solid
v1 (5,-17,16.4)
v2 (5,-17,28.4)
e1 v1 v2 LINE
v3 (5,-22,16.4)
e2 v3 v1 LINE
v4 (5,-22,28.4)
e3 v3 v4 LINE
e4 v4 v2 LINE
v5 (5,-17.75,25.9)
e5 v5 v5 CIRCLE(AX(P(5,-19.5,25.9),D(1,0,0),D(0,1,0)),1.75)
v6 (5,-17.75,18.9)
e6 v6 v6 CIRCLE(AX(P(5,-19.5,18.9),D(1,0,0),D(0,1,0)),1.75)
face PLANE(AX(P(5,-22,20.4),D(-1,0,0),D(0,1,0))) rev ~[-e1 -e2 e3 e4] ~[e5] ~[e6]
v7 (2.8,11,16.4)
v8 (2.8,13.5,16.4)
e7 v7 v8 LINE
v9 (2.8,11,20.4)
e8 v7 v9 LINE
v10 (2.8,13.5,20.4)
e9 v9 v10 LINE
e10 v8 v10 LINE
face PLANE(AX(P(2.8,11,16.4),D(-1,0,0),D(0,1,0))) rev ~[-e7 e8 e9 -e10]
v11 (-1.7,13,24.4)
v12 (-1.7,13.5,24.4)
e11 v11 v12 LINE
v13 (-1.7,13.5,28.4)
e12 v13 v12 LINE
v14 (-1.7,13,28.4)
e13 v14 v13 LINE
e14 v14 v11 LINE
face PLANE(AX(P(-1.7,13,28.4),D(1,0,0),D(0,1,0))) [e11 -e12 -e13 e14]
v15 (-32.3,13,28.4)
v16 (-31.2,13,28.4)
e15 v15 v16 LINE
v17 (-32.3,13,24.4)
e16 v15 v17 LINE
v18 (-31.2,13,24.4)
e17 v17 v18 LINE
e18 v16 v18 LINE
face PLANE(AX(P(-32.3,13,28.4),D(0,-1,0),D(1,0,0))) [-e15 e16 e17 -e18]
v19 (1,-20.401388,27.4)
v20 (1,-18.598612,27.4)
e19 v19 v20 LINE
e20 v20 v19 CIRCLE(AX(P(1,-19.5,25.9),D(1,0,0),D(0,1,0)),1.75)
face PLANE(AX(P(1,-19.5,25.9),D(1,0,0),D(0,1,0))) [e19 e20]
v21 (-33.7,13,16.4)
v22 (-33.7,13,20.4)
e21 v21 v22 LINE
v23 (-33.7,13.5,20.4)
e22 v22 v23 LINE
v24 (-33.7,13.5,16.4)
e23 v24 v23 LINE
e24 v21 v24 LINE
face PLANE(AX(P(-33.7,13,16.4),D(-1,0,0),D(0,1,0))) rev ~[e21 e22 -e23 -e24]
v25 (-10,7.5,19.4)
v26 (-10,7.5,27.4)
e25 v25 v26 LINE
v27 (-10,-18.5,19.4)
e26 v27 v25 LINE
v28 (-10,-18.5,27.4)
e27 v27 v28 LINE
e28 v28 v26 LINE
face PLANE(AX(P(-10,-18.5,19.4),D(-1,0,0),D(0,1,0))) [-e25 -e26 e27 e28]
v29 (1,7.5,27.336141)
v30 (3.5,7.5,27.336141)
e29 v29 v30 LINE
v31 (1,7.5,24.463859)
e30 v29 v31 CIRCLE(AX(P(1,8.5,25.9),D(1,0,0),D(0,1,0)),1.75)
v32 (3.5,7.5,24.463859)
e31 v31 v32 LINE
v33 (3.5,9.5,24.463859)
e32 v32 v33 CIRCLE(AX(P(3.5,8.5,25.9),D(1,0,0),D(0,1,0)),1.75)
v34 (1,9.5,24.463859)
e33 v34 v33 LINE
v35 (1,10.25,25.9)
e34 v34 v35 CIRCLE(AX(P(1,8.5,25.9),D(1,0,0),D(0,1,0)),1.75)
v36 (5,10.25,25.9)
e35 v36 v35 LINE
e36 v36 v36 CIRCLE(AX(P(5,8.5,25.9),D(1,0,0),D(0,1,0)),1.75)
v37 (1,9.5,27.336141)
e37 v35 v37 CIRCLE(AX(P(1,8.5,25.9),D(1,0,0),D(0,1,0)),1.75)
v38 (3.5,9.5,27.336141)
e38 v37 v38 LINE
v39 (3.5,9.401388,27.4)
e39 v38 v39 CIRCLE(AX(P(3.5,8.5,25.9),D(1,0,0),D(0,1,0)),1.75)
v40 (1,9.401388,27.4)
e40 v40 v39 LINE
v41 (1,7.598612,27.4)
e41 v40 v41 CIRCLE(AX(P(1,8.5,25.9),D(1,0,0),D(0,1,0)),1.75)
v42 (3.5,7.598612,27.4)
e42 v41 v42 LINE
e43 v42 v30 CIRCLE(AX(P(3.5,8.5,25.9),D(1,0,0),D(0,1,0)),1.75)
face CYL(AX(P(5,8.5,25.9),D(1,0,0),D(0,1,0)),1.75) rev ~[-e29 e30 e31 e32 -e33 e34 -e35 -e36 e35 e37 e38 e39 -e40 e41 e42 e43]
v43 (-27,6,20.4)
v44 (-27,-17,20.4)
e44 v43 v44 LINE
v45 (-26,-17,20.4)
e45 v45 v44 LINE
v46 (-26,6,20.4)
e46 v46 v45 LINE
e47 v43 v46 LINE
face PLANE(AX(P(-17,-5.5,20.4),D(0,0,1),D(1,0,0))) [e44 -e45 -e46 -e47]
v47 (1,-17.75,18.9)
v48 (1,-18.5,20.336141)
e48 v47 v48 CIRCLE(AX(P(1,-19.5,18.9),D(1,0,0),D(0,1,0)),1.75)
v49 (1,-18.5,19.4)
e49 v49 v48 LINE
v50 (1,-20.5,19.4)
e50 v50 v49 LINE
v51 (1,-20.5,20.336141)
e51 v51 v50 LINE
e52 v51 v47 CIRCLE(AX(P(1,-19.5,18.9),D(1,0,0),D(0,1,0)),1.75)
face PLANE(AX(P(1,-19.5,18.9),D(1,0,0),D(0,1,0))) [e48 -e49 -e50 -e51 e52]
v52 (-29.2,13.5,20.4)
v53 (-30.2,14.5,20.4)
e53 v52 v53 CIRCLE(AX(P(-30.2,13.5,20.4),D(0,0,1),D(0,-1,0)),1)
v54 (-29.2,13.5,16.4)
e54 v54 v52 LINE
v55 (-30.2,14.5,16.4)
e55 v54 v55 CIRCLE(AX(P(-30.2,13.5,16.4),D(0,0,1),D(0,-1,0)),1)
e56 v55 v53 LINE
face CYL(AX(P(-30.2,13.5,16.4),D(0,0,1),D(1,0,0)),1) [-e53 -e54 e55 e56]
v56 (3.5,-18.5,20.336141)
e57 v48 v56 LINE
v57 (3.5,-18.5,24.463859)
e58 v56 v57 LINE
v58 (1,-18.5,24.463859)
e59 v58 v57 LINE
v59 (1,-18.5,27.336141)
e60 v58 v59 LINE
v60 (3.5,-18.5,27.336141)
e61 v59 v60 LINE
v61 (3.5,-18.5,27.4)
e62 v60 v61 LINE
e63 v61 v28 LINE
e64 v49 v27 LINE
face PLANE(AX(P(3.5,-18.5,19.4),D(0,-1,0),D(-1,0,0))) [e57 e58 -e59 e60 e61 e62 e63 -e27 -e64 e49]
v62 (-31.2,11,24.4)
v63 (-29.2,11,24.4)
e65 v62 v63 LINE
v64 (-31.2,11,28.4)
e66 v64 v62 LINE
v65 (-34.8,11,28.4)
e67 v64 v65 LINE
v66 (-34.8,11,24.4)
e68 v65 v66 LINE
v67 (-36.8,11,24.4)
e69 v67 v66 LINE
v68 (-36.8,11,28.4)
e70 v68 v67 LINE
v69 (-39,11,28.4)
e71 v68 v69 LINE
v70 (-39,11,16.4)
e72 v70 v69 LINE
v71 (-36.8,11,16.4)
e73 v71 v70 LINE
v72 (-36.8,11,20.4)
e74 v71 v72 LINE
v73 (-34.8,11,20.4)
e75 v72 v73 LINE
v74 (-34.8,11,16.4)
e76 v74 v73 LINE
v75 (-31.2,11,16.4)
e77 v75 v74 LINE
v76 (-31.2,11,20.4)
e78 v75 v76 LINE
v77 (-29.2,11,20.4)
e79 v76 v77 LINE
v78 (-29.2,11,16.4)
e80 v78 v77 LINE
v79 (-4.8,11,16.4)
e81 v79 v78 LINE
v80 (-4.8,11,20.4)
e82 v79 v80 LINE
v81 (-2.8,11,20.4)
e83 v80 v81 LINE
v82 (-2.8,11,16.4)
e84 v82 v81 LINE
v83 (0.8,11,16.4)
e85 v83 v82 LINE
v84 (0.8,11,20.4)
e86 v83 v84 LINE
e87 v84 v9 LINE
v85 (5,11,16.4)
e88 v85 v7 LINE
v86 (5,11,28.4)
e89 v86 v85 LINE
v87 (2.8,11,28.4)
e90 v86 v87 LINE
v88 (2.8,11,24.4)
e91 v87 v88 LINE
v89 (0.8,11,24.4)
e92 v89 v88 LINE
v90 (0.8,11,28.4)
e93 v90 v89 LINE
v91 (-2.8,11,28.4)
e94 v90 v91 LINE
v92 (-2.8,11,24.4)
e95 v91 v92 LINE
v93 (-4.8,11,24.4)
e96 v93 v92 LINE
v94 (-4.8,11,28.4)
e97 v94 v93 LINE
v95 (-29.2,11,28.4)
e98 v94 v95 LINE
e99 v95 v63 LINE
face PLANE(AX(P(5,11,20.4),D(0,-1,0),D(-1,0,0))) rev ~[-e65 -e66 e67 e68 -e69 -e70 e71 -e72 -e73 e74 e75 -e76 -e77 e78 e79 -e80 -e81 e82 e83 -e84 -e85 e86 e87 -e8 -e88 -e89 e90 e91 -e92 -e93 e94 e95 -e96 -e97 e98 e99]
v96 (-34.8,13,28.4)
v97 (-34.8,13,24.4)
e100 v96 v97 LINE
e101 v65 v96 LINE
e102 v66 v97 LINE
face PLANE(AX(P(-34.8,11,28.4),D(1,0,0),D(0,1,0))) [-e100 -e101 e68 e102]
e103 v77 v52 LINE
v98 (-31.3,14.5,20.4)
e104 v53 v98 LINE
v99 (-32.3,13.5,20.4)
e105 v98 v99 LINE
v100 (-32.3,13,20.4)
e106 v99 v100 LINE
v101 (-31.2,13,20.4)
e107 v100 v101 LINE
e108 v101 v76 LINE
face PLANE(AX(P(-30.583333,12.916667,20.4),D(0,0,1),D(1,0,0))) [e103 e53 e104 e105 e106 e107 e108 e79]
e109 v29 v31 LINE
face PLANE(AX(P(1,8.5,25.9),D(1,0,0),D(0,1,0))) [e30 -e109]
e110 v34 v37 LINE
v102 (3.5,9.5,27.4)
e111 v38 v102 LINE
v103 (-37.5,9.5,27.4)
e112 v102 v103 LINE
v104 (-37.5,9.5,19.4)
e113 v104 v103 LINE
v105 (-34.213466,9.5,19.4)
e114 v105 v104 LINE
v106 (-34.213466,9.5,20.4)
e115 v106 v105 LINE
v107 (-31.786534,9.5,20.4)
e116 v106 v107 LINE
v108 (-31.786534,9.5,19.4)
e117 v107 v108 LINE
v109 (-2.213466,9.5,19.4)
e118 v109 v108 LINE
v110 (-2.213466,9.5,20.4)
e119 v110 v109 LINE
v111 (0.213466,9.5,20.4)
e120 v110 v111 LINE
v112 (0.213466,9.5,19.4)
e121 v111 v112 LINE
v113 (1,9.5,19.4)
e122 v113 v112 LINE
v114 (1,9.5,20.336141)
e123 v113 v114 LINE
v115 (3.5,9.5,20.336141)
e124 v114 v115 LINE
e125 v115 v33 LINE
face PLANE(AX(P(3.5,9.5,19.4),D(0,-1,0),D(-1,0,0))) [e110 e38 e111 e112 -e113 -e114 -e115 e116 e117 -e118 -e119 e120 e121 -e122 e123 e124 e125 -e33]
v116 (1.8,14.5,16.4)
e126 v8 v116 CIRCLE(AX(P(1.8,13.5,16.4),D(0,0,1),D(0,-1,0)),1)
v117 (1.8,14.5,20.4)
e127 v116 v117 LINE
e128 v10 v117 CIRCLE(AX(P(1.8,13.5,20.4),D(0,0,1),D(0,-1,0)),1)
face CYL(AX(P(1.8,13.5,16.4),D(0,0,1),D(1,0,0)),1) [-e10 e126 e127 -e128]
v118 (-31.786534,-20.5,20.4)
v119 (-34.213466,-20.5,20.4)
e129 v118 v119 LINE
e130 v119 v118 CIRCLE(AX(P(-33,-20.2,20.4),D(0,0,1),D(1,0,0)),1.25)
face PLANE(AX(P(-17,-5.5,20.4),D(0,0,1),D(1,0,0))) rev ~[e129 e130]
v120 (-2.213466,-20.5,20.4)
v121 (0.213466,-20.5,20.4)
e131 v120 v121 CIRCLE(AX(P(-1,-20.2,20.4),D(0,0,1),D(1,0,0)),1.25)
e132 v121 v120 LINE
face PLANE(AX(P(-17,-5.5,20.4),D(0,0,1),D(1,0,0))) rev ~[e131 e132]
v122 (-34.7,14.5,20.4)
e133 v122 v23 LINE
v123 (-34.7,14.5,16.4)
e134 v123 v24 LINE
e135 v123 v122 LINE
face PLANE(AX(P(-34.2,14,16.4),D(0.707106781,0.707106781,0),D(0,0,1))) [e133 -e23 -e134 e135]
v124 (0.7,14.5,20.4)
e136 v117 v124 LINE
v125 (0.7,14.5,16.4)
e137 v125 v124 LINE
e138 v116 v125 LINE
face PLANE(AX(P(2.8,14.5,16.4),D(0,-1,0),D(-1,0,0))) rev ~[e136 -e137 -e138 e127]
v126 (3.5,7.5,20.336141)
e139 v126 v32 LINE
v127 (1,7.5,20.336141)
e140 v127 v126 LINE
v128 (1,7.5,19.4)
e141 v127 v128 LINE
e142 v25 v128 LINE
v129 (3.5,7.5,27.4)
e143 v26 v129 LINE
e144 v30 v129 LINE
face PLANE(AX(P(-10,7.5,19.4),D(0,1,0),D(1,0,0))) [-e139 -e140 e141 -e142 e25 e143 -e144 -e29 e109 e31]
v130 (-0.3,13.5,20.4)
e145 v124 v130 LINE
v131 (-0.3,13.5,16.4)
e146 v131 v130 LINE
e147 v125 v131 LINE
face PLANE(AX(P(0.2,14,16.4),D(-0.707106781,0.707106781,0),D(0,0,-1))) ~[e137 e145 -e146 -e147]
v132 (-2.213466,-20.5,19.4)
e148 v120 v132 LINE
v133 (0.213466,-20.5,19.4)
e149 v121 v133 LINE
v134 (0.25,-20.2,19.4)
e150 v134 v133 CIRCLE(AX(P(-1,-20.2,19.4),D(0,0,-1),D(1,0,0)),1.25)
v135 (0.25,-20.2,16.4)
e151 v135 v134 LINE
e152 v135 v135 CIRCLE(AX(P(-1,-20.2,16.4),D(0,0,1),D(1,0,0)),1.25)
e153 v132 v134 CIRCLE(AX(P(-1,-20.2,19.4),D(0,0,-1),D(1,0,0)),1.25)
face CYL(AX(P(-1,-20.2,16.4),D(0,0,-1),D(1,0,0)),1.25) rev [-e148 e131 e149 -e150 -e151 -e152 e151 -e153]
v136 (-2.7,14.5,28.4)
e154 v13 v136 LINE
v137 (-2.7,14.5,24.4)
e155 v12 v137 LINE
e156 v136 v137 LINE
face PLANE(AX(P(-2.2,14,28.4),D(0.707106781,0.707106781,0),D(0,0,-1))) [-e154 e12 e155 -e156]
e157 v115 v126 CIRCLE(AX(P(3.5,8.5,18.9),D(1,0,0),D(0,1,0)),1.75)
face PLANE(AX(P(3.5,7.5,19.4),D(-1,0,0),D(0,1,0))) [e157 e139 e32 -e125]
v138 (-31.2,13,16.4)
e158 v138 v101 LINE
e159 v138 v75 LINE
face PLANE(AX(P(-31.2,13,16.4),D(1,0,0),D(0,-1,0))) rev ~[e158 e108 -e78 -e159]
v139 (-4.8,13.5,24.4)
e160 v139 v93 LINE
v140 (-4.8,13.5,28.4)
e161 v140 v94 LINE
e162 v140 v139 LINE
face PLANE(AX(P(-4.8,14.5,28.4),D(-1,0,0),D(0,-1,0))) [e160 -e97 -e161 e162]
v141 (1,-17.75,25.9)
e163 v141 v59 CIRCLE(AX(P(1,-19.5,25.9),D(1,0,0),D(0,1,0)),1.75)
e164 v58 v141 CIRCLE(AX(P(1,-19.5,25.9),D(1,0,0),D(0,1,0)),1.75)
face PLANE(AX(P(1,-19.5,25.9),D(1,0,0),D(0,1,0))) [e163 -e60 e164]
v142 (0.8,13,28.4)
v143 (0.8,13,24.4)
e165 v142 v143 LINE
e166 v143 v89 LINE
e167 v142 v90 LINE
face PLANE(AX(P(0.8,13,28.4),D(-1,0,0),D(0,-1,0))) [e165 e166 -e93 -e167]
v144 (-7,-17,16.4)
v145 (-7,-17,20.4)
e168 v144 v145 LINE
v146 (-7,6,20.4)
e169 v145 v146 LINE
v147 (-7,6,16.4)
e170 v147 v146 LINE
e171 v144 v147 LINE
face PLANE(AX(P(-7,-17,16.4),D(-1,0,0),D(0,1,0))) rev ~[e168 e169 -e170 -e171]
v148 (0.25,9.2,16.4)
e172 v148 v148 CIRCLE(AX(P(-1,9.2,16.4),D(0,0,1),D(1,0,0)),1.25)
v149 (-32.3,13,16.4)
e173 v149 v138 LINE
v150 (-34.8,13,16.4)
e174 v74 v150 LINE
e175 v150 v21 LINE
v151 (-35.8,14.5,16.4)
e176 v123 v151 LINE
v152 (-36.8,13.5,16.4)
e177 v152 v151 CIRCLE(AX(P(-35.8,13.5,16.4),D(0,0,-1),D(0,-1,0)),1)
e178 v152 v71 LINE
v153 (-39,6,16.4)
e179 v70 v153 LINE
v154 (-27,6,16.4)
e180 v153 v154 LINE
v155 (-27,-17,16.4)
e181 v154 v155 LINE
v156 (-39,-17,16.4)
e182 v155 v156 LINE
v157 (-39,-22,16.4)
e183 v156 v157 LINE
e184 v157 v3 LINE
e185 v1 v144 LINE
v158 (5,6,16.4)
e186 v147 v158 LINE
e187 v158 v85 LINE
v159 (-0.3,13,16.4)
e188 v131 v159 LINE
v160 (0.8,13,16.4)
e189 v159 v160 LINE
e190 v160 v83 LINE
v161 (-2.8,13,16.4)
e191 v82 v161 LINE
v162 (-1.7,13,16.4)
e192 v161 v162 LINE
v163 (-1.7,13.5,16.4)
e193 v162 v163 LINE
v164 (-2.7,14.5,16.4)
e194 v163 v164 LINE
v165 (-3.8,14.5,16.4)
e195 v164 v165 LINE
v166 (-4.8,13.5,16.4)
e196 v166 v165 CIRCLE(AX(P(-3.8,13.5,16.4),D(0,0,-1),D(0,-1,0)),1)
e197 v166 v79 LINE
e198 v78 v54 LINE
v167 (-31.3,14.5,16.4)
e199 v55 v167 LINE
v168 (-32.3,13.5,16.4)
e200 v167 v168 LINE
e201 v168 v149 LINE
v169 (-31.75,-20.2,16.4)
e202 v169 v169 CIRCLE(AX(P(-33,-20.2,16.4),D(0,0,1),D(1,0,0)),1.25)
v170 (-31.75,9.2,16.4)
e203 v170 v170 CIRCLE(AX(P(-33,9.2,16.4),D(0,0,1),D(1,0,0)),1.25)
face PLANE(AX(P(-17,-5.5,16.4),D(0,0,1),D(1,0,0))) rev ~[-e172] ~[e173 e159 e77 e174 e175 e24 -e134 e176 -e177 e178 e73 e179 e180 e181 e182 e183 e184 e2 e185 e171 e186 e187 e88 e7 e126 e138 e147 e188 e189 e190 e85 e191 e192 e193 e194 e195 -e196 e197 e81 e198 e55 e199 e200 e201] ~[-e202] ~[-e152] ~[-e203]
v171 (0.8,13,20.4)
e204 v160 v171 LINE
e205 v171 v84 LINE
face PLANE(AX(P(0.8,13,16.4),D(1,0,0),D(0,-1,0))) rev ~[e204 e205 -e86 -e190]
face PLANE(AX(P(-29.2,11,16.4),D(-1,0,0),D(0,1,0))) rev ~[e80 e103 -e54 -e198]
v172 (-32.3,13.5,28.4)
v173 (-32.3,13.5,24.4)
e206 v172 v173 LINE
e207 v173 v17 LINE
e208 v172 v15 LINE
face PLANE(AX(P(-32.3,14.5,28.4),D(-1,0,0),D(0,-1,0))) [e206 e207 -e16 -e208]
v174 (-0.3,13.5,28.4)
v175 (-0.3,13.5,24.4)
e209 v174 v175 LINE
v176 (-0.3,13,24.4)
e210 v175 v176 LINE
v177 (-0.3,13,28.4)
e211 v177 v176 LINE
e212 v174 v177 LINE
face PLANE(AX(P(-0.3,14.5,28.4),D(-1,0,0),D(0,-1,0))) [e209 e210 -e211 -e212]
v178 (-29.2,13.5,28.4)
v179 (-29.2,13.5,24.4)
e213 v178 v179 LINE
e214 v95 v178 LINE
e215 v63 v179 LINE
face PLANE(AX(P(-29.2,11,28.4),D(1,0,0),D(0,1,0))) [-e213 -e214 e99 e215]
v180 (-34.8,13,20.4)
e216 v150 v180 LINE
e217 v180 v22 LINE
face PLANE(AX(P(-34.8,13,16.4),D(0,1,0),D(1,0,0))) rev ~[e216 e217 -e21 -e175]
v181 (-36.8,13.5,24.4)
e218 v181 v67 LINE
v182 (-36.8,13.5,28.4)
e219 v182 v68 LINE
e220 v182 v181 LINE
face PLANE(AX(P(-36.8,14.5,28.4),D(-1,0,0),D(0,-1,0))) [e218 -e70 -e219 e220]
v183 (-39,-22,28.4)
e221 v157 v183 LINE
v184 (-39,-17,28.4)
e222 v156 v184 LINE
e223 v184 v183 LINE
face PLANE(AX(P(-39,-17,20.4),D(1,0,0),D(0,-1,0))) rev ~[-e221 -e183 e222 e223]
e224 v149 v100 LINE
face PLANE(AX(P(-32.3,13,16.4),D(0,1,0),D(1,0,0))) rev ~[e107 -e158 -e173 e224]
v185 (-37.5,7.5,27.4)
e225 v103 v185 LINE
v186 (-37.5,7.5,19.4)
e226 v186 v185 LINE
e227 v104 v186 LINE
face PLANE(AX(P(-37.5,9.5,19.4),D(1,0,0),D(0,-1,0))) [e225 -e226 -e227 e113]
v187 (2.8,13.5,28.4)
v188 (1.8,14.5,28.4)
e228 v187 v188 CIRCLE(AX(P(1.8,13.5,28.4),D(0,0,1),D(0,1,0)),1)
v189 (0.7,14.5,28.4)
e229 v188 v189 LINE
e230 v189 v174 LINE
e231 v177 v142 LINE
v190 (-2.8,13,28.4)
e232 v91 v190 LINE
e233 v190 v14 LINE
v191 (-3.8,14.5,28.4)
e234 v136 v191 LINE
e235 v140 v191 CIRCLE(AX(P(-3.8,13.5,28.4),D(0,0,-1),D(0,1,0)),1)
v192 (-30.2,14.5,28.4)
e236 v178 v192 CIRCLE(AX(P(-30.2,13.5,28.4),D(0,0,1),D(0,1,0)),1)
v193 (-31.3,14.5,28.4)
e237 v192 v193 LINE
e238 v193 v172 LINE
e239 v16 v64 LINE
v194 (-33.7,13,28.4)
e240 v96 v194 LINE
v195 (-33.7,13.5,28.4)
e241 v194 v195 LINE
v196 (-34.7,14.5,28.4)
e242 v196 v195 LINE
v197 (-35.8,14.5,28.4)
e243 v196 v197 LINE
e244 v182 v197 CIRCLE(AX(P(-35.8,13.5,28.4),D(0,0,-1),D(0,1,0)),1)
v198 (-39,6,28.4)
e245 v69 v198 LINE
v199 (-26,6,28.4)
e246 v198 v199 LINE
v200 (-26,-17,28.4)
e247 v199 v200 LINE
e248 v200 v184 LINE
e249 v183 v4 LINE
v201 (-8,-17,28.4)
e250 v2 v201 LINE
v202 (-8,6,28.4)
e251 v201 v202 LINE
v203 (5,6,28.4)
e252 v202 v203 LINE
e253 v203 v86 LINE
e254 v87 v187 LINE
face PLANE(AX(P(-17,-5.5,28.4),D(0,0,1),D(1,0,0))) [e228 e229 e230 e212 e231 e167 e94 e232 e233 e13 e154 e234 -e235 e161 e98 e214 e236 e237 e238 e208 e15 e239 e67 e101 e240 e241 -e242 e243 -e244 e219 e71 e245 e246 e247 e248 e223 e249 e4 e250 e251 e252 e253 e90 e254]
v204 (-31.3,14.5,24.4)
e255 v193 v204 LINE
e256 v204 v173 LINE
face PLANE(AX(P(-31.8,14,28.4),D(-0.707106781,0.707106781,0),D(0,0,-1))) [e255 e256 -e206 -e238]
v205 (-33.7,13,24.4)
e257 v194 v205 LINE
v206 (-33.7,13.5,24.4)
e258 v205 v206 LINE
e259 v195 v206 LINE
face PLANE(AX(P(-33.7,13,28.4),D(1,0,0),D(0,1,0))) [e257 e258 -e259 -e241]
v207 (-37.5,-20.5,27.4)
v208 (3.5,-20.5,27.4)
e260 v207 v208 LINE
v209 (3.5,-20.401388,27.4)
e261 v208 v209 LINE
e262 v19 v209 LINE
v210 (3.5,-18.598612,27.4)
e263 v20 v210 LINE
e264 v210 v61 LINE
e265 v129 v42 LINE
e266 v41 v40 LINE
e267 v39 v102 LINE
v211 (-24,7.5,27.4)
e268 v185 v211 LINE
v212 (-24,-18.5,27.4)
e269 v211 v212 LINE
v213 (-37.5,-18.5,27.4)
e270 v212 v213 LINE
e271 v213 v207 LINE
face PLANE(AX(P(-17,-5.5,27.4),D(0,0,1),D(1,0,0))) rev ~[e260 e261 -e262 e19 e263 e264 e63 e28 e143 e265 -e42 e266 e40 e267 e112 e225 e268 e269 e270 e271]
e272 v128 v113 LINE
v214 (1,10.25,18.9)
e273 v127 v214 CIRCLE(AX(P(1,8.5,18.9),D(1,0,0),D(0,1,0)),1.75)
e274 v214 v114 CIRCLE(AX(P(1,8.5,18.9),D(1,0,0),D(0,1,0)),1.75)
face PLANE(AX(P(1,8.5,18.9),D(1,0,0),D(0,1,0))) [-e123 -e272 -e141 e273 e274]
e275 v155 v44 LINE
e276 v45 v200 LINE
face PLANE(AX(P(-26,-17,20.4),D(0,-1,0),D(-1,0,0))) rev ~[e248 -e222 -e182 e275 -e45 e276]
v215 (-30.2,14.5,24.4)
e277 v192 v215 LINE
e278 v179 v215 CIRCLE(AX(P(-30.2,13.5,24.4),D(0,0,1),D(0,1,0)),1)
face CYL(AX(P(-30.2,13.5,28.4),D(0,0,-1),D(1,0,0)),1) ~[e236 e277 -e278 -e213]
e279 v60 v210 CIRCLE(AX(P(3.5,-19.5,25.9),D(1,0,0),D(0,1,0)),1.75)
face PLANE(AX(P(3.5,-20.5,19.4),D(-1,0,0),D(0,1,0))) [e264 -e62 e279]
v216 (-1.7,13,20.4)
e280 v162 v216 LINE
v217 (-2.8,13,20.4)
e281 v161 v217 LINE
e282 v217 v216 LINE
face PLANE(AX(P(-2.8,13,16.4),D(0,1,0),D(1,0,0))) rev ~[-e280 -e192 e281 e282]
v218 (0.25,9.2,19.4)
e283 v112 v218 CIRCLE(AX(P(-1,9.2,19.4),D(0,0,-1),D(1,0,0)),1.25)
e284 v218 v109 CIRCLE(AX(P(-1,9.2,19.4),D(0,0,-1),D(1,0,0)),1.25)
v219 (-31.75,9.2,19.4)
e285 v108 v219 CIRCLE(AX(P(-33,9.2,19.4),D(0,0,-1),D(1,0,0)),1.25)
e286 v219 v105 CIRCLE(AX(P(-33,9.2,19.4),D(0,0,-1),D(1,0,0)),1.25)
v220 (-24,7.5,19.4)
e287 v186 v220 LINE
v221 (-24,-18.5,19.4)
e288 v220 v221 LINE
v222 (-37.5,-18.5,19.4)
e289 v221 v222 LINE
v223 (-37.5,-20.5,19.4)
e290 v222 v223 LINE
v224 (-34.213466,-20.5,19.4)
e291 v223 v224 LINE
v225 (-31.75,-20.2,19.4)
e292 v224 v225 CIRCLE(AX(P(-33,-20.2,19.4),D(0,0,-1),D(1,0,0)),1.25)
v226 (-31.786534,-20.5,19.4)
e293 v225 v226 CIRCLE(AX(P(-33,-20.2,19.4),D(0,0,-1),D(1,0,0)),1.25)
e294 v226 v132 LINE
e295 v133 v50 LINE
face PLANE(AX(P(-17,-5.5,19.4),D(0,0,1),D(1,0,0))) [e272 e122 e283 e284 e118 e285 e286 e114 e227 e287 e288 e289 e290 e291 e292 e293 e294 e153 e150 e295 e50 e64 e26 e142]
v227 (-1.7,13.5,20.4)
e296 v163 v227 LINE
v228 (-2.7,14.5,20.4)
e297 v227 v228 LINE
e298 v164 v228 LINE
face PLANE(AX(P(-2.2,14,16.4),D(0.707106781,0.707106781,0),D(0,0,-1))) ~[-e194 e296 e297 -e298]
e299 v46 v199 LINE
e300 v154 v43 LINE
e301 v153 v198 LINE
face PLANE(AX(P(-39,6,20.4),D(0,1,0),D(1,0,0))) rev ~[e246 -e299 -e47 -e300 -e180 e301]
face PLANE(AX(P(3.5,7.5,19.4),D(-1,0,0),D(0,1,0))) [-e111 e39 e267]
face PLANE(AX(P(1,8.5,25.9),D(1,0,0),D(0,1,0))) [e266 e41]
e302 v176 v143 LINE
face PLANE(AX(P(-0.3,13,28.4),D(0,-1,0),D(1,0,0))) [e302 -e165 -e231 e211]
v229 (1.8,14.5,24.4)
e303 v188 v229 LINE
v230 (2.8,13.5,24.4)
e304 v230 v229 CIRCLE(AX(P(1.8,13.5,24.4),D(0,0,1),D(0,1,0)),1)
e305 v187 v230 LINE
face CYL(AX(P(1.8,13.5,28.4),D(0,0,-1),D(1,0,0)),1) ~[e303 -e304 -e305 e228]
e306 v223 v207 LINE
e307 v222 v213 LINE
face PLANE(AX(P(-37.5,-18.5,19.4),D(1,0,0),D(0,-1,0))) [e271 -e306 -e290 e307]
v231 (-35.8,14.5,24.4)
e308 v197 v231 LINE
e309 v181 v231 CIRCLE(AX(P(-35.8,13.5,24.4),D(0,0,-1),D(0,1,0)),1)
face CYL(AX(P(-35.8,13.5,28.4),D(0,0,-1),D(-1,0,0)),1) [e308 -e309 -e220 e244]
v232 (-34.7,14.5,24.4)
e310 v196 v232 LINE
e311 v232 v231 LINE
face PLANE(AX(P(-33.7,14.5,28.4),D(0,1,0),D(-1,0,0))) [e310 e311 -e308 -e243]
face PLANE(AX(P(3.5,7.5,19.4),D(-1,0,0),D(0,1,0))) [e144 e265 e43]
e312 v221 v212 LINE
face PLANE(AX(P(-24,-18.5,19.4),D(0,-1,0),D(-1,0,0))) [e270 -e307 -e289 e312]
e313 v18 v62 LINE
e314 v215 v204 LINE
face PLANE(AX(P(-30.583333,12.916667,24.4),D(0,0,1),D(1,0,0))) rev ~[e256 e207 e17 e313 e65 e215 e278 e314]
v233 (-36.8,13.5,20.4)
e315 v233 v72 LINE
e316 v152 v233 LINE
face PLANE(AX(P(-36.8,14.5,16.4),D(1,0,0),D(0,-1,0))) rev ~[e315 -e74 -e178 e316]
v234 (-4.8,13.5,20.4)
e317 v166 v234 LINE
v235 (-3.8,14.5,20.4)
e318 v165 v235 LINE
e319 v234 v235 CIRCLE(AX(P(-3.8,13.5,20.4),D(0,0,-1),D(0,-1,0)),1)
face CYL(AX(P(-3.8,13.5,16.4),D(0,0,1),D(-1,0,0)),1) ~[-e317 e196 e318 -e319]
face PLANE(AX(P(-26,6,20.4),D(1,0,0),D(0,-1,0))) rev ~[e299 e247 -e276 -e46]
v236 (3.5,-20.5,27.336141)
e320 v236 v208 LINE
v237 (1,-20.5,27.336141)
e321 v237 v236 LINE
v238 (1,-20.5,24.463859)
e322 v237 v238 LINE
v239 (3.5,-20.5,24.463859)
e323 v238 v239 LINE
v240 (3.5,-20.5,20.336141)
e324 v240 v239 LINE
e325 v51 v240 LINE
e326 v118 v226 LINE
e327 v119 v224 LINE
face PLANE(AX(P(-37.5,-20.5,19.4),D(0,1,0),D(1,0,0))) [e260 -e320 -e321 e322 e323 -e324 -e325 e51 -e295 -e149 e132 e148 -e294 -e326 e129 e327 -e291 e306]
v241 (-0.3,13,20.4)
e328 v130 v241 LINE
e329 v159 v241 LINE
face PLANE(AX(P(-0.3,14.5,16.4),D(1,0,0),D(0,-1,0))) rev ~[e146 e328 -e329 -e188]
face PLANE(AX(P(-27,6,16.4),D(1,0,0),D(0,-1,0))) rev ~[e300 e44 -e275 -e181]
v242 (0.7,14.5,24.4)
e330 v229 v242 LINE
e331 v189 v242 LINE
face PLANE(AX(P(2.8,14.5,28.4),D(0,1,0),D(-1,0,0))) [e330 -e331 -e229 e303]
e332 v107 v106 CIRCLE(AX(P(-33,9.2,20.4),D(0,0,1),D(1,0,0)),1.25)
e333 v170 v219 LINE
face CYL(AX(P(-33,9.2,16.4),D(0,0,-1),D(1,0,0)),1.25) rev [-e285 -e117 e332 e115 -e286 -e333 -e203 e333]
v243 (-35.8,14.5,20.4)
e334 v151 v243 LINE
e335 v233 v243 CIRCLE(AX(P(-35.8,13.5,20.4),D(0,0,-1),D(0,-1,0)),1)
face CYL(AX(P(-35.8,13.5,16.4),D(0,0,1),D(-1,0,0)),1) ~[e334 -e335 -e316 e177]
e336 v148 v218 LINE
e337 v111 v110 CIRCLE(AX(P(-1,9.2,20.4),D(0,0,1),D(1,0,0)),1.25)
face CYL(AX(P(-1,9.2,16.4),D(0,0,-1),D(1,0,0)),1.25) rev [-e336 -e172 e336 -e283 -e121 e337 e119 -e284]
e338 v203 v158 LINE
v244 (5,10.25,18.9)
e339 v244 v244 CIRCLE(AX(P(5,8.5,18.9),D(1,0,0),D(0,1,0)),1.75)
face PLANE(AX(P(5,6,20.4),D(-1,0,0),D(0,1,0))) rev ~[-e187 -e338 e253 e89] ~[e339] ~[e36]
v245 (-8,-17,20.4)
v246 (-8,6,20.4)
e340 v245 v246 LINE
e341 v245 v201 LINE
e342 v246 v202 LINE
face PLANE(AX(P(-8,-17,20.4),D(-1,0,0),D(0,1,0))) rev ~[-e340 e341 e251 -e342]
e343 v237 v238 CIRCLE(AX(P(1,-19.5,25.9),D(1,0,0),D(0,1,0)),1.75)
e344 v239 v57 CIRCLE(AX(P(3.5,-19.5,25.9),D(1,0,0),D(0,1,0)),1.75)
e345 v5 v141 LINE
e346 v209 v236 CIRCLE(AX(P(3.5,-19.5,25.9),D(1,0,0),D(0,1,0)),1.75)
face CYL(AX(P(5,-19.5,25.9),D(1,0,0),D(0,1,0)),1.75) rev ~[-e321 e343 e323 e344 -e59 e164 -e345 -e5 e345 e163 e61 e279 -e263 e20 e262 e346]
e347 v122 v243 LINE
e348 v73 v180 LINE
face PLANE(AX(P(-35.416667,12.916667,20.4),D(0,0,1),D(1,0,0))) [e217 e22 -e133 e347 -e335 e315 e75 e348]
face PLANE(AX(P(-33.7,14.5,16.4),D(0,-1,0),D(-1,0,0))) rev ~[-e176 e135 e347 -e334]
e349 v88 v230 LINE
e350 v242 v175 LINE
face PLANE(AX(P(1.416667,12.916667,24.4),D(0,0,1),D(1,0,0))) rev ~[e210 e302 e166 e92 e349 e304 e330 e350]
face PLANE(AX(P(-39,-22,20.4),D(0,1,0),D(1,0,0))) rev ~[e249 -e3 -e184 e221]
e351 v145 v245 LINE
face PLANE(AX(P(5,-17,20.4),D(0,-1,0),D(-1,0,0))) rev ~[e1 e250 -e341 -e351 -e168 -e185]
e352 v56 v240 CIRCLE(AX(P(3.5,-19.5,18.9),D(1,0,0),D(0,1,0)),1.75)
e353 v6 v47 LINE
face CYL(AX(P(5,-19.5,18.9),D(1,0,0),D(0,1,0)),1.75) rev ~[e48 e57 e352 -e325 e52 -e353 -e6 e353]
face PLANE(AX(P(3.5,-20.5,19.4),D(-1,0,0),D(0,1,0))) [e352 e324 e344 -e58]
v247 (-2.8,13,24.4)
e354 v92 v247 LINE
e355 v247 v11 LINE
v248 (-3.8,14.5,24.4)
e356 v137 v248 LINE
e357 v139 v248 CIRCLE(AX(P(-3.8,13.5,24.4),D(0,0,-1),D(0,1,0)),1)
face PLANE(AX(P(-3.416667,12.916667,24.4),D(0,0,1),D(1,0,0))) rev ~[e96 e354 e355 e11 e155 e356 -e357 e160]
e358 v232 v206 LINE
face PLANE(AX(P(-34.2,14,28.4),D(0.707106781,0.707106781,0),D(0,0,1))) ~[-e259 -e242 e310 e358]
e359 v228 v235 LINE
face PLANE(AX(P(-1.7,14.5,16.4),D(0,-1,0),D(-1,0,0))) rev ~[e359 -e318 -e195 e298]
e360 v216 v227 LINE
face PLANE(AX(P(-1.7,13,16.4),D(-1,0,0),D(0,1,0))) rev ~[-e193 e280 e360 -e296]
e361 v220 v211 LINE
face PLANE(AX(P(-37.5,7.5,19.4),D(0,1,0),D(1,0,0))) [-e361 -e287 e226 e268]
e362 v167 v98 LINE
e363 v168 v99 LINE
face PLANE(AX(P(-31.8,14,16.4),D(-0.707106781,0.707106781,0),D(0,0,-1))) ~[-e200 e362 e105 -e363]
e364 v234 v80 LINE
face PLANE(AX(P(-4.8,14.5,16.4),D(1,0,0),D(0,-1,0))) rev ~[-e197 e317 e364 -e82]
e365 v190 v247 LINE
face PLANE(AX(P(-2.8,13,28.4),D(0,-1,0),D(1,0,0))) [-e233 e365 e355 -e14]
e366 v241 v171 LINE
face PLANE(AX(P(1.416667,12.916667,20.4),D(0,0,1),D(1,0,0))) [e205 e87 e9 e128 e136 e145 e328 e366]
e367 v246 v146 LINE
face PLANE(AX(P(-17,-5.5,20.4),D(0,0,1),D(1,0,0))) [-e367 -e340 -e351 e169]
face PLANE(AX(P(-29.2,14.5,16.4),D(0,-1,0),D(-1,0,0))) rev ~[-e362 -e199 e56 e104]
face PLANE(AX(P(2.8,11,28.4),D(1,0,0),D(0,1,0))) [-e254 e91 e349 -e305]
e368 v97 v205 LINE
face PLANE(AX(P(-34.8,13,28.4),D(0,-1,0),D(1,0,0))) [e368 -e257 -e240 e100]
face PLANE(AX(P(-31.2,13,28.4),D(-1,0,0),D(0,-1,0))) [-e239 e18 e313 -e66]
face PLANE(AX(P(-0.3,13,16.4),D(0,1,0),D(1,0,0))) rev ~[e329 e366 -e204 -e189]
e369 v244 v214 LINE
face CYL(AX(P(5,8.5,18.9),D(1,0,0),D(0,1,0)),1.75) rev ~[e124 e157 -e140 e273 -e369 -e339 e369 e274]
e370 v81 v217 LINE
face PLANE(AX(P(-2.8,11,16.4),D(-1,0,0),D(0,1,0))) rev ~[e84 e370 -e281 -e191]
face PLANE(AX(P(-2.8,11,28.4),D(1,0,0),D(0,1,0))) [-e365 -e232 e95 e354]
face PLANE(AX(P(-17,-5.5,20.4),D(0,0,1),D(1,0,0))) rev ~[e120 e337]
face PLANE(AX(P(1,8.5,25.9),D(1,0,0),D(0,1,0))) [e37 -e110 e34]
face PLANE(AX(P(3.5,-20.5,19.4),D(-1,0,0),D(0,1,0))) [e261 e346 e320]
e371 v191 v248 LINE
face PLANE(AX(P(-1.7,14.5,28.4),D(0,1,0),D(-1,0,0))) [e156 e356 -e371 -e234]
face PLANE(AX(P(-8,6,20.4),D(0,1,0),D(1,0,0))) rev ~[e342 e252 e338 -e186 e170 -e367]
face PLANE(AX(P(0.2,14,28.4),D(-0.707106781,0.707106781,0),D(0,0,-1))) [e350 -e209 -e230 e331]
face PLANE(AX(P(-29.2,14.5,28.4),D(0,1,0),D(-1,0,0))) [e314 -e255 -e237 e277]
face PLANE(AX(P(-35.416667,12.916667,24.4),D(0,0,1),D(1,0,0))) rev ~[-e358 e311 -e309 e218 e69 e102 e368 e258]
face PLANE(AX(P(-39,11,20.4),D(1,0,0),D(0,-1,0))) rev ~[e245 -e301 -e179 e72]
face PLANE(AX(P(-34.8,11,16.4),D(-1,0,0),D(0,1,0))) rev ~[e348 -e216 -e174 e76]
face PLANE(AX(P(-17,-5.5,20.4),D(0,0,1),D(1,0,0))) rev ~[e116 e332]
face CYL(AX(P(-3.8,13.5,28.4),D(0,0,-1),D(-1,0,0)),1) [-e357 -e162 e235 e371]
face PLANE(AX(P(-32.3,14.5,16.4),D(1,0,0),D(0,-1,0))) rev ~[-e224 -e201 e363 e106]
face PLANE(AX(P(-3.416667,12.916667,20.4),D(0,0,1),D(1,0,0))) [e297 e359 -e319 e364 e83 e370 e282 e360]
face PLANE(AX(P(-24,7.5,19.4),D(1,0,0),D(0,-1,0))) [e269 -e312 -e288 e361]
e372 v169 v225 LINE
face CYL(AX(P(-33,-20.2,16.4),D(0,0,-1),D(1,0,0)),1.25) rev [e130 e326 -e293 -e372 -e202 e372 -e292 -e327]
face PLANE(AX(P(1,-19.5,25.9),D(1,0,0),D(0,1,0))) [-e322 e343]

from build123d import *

# Parameters (mm, degrees)
SKETCH068_R     = 1.25
PAD036_DEPTH    = 4
PAD037_DEPTH    = 8
POCKET027_DEPTH = 8
PAD038_DEPTH    = 4
PAD039_DEPTH    = 4
PAD040_DEPTH    = 4
PAD041_DEPTH    = 4
SKETCH076_R     = 1.75
POCKET028_DEPTH = 4
FILLET006_R     = 1
CHAMFER_SIZE    = 1


with BuildPart() as part:
    # Sketch068 → Pad036 (new body)
    with BuildSketch(Plane.XY):
        Polygon((0, 0), (-44, 0), (-44, -5), (-32, -5), (-32, -28), (-44, -28), (-44, -33), (0, -33), (0, -28), (-12, -28), (-12, -5), (0, -5), align=None)
        with Locations((-6, -1.8)):
            Circle(SKETCH068_R, mode=Mode.SUBTRACT)
        with Locations((-38, -31.2)):
            Circle(SKETCH068_R, mode=Mode.SUBTRACT)
        with Locations((-6, -31.2)):
            Circle(SKETCH068_R, mode=Mode.SUBTRACT)
        with Locations((-38, -1.8)):
            Circle(SKETCH068_R, mode=Mode.SUBTRACT)
    extrude(amount=PAD036_DEPTH)

    # Sketch069 → Pad037 (join)
    with BuildSketch(Plane.XY.offset(4)):
        Polygon((0, 0), (-44, 0), (-44, -5), (-31, -5), (-31, -28), (-44, -28), (-44, -33), (0, -33), (0, -28), (-13, -28), (-13, -5), (0, -5), align=None)
    extrude(amount=PAD037_DEPTH)

    # Sketch070 → Pocket027 (cut)
    with BuildSketch(Plane.XY.offset(3)):
        Polygon((-42.5, -1.5), (-42.5, -3.5), (-29, -3.5), (-29, -5), (-29, -29.5), (-42.5, -29.5), (-42.5, -31.5), (-1.5, -31.5), (-1.5, -29.5), (-15, -29.5), (-15, -3.5), (-1.5, -3.5), (-1.5, -1.5), align=None)
    extrude(amount=POCKET027_DEPTH, mode=Mode.SUBTRACT)

    # Sketch072 → Pad038 (join)
    with BuildSketch(Plane(origin=(-38, 0, 12), x_dir=(1, 0, 0), z_dir=(0, 0, 1))):
        Polygon((-1.8, 0), (-1.8, 2), (-0.7, 2), (-0.7, 3.5), (-3.8, 3.5), (-3.8, 0), align=None)
        Polygon((0.7, 2), (1.8, 2), (1.8, 0), (3.8, 0), (3.8, 3.5), (0.7, 3.5), align=None)
    extrude(amount=-PAD038_DEPTH)

    # Sketch073 → Pad039 (join)
    with BuildSketch(Plane(origin=(-38, 0, 0), x_dir=(1, 0, 0), z_dir=(0, 0, 1))):
        Polygon((-1.8, 0), (-1.8, 2), (-0.7, 2), (-0.7, 3.5), (-3.8, 3.5), (-3.8, 0), align=None)
        Polygon((0.7, 2), (1.8, 2), (1.8, 0), (3.8, 0), (3.8, 3.5), (0.7, 3.5), align=None)
    extrude(amount=PAD039_DEPTH)

    # Sketch074 → Pad040 (join)
    with BuildSketch(Plane(origin=(-6, 0, 0), x_dir=(1, 0, 0), z_dir=(0, 0, 1))):
        Polygon((-1.8, 0), (-1.8, 2), (-0.7, 2), (-0.7, 3.5), (-3.8, 3.5), (-3.8, 0), align=None)
        Polygon((0.7, 2), (1.8, 2), (1.8, 0), (3.8, 0), (3.8, 3.5), (0.7, 3.5), align=None)
    extrude(amount=PAD040_DEPTH)

    # Sketch075 → Pad041 (join)
    with BuildSketch(Plane(origin=(-6, 0, 12), x_dir=(1, 0, 0), z_dir=(0, 0, 1))):
        Polygon((-1.8, 0), (-1.8, 2), (-0.7, 2), (-0.7, 3.5), (-3.8, 3.5), (-3.8, 0), align=None)
        Polygon((0.7, 2), (1.8, 2), (1.8, 0), (3.8, 0), (3.8, 3.5), (0.7, 3.5), align=None)
    extrude(amount=-PAD041_DEPTH)

    # Sketch076 → Pocket028 (cut)
    with BuildSketch(Plane.YZ):
        with Locations((-30.5, 9.5)):
            Circle(SKETCH076_R)
        with Locations((-30.5, 2.5)):
            Circle(SKETCH076_R)
        with Locations((-2.5, 2.5)):
            Circle(SKETCH076_R)
        with Locations((-2.5, 9.5)):
            Circle(SKETCH076_R)
    extrude(amount=-POCKET028_DEPTH, mode=Mode.SUBTRACT)

    # Fillet006
    fillet006_edges = [part.edges().sort_by_distance(p)[0] for p in [
        (-9.8, 3.5, 2),
        (-2.2, 3.5, 2),
        (-2.2, 3.5, 10),
        (-9.8, 3.5, 10),
        (-34.2, 3.5, 10),
        (-41.8, 3.5, 10),
        (-41.8, 3.5, 2),
        (-34.2, 3.5, 2),
    ]]
    fillet(fillet006_edges, radius=FILLET006_R)

    # Chamfer
    chamfer_edges = [part.edges().sort_by_distance(p)[0] for p in [
        (-5.3, 3.5, 2),
        (-6.7, 3.5, 2),
        (-5.3, 3.5, 10),
        (-6.7, 3.5, 10),
        (-37.3, 3.5, 2),
        (-38.7, 3.5, 2),
        (-38.7, 3.5, 10),
        (-37.3, 3.5, 10),
    ]]
    chamfer(chamfer_edges, length=CHAMFER_SIZE)


with BuildPart() as part_1:
    # Body011 placement: moved
    add(part.part.moved(Location((5, 11, 16.4))))


solid = part_1.part
